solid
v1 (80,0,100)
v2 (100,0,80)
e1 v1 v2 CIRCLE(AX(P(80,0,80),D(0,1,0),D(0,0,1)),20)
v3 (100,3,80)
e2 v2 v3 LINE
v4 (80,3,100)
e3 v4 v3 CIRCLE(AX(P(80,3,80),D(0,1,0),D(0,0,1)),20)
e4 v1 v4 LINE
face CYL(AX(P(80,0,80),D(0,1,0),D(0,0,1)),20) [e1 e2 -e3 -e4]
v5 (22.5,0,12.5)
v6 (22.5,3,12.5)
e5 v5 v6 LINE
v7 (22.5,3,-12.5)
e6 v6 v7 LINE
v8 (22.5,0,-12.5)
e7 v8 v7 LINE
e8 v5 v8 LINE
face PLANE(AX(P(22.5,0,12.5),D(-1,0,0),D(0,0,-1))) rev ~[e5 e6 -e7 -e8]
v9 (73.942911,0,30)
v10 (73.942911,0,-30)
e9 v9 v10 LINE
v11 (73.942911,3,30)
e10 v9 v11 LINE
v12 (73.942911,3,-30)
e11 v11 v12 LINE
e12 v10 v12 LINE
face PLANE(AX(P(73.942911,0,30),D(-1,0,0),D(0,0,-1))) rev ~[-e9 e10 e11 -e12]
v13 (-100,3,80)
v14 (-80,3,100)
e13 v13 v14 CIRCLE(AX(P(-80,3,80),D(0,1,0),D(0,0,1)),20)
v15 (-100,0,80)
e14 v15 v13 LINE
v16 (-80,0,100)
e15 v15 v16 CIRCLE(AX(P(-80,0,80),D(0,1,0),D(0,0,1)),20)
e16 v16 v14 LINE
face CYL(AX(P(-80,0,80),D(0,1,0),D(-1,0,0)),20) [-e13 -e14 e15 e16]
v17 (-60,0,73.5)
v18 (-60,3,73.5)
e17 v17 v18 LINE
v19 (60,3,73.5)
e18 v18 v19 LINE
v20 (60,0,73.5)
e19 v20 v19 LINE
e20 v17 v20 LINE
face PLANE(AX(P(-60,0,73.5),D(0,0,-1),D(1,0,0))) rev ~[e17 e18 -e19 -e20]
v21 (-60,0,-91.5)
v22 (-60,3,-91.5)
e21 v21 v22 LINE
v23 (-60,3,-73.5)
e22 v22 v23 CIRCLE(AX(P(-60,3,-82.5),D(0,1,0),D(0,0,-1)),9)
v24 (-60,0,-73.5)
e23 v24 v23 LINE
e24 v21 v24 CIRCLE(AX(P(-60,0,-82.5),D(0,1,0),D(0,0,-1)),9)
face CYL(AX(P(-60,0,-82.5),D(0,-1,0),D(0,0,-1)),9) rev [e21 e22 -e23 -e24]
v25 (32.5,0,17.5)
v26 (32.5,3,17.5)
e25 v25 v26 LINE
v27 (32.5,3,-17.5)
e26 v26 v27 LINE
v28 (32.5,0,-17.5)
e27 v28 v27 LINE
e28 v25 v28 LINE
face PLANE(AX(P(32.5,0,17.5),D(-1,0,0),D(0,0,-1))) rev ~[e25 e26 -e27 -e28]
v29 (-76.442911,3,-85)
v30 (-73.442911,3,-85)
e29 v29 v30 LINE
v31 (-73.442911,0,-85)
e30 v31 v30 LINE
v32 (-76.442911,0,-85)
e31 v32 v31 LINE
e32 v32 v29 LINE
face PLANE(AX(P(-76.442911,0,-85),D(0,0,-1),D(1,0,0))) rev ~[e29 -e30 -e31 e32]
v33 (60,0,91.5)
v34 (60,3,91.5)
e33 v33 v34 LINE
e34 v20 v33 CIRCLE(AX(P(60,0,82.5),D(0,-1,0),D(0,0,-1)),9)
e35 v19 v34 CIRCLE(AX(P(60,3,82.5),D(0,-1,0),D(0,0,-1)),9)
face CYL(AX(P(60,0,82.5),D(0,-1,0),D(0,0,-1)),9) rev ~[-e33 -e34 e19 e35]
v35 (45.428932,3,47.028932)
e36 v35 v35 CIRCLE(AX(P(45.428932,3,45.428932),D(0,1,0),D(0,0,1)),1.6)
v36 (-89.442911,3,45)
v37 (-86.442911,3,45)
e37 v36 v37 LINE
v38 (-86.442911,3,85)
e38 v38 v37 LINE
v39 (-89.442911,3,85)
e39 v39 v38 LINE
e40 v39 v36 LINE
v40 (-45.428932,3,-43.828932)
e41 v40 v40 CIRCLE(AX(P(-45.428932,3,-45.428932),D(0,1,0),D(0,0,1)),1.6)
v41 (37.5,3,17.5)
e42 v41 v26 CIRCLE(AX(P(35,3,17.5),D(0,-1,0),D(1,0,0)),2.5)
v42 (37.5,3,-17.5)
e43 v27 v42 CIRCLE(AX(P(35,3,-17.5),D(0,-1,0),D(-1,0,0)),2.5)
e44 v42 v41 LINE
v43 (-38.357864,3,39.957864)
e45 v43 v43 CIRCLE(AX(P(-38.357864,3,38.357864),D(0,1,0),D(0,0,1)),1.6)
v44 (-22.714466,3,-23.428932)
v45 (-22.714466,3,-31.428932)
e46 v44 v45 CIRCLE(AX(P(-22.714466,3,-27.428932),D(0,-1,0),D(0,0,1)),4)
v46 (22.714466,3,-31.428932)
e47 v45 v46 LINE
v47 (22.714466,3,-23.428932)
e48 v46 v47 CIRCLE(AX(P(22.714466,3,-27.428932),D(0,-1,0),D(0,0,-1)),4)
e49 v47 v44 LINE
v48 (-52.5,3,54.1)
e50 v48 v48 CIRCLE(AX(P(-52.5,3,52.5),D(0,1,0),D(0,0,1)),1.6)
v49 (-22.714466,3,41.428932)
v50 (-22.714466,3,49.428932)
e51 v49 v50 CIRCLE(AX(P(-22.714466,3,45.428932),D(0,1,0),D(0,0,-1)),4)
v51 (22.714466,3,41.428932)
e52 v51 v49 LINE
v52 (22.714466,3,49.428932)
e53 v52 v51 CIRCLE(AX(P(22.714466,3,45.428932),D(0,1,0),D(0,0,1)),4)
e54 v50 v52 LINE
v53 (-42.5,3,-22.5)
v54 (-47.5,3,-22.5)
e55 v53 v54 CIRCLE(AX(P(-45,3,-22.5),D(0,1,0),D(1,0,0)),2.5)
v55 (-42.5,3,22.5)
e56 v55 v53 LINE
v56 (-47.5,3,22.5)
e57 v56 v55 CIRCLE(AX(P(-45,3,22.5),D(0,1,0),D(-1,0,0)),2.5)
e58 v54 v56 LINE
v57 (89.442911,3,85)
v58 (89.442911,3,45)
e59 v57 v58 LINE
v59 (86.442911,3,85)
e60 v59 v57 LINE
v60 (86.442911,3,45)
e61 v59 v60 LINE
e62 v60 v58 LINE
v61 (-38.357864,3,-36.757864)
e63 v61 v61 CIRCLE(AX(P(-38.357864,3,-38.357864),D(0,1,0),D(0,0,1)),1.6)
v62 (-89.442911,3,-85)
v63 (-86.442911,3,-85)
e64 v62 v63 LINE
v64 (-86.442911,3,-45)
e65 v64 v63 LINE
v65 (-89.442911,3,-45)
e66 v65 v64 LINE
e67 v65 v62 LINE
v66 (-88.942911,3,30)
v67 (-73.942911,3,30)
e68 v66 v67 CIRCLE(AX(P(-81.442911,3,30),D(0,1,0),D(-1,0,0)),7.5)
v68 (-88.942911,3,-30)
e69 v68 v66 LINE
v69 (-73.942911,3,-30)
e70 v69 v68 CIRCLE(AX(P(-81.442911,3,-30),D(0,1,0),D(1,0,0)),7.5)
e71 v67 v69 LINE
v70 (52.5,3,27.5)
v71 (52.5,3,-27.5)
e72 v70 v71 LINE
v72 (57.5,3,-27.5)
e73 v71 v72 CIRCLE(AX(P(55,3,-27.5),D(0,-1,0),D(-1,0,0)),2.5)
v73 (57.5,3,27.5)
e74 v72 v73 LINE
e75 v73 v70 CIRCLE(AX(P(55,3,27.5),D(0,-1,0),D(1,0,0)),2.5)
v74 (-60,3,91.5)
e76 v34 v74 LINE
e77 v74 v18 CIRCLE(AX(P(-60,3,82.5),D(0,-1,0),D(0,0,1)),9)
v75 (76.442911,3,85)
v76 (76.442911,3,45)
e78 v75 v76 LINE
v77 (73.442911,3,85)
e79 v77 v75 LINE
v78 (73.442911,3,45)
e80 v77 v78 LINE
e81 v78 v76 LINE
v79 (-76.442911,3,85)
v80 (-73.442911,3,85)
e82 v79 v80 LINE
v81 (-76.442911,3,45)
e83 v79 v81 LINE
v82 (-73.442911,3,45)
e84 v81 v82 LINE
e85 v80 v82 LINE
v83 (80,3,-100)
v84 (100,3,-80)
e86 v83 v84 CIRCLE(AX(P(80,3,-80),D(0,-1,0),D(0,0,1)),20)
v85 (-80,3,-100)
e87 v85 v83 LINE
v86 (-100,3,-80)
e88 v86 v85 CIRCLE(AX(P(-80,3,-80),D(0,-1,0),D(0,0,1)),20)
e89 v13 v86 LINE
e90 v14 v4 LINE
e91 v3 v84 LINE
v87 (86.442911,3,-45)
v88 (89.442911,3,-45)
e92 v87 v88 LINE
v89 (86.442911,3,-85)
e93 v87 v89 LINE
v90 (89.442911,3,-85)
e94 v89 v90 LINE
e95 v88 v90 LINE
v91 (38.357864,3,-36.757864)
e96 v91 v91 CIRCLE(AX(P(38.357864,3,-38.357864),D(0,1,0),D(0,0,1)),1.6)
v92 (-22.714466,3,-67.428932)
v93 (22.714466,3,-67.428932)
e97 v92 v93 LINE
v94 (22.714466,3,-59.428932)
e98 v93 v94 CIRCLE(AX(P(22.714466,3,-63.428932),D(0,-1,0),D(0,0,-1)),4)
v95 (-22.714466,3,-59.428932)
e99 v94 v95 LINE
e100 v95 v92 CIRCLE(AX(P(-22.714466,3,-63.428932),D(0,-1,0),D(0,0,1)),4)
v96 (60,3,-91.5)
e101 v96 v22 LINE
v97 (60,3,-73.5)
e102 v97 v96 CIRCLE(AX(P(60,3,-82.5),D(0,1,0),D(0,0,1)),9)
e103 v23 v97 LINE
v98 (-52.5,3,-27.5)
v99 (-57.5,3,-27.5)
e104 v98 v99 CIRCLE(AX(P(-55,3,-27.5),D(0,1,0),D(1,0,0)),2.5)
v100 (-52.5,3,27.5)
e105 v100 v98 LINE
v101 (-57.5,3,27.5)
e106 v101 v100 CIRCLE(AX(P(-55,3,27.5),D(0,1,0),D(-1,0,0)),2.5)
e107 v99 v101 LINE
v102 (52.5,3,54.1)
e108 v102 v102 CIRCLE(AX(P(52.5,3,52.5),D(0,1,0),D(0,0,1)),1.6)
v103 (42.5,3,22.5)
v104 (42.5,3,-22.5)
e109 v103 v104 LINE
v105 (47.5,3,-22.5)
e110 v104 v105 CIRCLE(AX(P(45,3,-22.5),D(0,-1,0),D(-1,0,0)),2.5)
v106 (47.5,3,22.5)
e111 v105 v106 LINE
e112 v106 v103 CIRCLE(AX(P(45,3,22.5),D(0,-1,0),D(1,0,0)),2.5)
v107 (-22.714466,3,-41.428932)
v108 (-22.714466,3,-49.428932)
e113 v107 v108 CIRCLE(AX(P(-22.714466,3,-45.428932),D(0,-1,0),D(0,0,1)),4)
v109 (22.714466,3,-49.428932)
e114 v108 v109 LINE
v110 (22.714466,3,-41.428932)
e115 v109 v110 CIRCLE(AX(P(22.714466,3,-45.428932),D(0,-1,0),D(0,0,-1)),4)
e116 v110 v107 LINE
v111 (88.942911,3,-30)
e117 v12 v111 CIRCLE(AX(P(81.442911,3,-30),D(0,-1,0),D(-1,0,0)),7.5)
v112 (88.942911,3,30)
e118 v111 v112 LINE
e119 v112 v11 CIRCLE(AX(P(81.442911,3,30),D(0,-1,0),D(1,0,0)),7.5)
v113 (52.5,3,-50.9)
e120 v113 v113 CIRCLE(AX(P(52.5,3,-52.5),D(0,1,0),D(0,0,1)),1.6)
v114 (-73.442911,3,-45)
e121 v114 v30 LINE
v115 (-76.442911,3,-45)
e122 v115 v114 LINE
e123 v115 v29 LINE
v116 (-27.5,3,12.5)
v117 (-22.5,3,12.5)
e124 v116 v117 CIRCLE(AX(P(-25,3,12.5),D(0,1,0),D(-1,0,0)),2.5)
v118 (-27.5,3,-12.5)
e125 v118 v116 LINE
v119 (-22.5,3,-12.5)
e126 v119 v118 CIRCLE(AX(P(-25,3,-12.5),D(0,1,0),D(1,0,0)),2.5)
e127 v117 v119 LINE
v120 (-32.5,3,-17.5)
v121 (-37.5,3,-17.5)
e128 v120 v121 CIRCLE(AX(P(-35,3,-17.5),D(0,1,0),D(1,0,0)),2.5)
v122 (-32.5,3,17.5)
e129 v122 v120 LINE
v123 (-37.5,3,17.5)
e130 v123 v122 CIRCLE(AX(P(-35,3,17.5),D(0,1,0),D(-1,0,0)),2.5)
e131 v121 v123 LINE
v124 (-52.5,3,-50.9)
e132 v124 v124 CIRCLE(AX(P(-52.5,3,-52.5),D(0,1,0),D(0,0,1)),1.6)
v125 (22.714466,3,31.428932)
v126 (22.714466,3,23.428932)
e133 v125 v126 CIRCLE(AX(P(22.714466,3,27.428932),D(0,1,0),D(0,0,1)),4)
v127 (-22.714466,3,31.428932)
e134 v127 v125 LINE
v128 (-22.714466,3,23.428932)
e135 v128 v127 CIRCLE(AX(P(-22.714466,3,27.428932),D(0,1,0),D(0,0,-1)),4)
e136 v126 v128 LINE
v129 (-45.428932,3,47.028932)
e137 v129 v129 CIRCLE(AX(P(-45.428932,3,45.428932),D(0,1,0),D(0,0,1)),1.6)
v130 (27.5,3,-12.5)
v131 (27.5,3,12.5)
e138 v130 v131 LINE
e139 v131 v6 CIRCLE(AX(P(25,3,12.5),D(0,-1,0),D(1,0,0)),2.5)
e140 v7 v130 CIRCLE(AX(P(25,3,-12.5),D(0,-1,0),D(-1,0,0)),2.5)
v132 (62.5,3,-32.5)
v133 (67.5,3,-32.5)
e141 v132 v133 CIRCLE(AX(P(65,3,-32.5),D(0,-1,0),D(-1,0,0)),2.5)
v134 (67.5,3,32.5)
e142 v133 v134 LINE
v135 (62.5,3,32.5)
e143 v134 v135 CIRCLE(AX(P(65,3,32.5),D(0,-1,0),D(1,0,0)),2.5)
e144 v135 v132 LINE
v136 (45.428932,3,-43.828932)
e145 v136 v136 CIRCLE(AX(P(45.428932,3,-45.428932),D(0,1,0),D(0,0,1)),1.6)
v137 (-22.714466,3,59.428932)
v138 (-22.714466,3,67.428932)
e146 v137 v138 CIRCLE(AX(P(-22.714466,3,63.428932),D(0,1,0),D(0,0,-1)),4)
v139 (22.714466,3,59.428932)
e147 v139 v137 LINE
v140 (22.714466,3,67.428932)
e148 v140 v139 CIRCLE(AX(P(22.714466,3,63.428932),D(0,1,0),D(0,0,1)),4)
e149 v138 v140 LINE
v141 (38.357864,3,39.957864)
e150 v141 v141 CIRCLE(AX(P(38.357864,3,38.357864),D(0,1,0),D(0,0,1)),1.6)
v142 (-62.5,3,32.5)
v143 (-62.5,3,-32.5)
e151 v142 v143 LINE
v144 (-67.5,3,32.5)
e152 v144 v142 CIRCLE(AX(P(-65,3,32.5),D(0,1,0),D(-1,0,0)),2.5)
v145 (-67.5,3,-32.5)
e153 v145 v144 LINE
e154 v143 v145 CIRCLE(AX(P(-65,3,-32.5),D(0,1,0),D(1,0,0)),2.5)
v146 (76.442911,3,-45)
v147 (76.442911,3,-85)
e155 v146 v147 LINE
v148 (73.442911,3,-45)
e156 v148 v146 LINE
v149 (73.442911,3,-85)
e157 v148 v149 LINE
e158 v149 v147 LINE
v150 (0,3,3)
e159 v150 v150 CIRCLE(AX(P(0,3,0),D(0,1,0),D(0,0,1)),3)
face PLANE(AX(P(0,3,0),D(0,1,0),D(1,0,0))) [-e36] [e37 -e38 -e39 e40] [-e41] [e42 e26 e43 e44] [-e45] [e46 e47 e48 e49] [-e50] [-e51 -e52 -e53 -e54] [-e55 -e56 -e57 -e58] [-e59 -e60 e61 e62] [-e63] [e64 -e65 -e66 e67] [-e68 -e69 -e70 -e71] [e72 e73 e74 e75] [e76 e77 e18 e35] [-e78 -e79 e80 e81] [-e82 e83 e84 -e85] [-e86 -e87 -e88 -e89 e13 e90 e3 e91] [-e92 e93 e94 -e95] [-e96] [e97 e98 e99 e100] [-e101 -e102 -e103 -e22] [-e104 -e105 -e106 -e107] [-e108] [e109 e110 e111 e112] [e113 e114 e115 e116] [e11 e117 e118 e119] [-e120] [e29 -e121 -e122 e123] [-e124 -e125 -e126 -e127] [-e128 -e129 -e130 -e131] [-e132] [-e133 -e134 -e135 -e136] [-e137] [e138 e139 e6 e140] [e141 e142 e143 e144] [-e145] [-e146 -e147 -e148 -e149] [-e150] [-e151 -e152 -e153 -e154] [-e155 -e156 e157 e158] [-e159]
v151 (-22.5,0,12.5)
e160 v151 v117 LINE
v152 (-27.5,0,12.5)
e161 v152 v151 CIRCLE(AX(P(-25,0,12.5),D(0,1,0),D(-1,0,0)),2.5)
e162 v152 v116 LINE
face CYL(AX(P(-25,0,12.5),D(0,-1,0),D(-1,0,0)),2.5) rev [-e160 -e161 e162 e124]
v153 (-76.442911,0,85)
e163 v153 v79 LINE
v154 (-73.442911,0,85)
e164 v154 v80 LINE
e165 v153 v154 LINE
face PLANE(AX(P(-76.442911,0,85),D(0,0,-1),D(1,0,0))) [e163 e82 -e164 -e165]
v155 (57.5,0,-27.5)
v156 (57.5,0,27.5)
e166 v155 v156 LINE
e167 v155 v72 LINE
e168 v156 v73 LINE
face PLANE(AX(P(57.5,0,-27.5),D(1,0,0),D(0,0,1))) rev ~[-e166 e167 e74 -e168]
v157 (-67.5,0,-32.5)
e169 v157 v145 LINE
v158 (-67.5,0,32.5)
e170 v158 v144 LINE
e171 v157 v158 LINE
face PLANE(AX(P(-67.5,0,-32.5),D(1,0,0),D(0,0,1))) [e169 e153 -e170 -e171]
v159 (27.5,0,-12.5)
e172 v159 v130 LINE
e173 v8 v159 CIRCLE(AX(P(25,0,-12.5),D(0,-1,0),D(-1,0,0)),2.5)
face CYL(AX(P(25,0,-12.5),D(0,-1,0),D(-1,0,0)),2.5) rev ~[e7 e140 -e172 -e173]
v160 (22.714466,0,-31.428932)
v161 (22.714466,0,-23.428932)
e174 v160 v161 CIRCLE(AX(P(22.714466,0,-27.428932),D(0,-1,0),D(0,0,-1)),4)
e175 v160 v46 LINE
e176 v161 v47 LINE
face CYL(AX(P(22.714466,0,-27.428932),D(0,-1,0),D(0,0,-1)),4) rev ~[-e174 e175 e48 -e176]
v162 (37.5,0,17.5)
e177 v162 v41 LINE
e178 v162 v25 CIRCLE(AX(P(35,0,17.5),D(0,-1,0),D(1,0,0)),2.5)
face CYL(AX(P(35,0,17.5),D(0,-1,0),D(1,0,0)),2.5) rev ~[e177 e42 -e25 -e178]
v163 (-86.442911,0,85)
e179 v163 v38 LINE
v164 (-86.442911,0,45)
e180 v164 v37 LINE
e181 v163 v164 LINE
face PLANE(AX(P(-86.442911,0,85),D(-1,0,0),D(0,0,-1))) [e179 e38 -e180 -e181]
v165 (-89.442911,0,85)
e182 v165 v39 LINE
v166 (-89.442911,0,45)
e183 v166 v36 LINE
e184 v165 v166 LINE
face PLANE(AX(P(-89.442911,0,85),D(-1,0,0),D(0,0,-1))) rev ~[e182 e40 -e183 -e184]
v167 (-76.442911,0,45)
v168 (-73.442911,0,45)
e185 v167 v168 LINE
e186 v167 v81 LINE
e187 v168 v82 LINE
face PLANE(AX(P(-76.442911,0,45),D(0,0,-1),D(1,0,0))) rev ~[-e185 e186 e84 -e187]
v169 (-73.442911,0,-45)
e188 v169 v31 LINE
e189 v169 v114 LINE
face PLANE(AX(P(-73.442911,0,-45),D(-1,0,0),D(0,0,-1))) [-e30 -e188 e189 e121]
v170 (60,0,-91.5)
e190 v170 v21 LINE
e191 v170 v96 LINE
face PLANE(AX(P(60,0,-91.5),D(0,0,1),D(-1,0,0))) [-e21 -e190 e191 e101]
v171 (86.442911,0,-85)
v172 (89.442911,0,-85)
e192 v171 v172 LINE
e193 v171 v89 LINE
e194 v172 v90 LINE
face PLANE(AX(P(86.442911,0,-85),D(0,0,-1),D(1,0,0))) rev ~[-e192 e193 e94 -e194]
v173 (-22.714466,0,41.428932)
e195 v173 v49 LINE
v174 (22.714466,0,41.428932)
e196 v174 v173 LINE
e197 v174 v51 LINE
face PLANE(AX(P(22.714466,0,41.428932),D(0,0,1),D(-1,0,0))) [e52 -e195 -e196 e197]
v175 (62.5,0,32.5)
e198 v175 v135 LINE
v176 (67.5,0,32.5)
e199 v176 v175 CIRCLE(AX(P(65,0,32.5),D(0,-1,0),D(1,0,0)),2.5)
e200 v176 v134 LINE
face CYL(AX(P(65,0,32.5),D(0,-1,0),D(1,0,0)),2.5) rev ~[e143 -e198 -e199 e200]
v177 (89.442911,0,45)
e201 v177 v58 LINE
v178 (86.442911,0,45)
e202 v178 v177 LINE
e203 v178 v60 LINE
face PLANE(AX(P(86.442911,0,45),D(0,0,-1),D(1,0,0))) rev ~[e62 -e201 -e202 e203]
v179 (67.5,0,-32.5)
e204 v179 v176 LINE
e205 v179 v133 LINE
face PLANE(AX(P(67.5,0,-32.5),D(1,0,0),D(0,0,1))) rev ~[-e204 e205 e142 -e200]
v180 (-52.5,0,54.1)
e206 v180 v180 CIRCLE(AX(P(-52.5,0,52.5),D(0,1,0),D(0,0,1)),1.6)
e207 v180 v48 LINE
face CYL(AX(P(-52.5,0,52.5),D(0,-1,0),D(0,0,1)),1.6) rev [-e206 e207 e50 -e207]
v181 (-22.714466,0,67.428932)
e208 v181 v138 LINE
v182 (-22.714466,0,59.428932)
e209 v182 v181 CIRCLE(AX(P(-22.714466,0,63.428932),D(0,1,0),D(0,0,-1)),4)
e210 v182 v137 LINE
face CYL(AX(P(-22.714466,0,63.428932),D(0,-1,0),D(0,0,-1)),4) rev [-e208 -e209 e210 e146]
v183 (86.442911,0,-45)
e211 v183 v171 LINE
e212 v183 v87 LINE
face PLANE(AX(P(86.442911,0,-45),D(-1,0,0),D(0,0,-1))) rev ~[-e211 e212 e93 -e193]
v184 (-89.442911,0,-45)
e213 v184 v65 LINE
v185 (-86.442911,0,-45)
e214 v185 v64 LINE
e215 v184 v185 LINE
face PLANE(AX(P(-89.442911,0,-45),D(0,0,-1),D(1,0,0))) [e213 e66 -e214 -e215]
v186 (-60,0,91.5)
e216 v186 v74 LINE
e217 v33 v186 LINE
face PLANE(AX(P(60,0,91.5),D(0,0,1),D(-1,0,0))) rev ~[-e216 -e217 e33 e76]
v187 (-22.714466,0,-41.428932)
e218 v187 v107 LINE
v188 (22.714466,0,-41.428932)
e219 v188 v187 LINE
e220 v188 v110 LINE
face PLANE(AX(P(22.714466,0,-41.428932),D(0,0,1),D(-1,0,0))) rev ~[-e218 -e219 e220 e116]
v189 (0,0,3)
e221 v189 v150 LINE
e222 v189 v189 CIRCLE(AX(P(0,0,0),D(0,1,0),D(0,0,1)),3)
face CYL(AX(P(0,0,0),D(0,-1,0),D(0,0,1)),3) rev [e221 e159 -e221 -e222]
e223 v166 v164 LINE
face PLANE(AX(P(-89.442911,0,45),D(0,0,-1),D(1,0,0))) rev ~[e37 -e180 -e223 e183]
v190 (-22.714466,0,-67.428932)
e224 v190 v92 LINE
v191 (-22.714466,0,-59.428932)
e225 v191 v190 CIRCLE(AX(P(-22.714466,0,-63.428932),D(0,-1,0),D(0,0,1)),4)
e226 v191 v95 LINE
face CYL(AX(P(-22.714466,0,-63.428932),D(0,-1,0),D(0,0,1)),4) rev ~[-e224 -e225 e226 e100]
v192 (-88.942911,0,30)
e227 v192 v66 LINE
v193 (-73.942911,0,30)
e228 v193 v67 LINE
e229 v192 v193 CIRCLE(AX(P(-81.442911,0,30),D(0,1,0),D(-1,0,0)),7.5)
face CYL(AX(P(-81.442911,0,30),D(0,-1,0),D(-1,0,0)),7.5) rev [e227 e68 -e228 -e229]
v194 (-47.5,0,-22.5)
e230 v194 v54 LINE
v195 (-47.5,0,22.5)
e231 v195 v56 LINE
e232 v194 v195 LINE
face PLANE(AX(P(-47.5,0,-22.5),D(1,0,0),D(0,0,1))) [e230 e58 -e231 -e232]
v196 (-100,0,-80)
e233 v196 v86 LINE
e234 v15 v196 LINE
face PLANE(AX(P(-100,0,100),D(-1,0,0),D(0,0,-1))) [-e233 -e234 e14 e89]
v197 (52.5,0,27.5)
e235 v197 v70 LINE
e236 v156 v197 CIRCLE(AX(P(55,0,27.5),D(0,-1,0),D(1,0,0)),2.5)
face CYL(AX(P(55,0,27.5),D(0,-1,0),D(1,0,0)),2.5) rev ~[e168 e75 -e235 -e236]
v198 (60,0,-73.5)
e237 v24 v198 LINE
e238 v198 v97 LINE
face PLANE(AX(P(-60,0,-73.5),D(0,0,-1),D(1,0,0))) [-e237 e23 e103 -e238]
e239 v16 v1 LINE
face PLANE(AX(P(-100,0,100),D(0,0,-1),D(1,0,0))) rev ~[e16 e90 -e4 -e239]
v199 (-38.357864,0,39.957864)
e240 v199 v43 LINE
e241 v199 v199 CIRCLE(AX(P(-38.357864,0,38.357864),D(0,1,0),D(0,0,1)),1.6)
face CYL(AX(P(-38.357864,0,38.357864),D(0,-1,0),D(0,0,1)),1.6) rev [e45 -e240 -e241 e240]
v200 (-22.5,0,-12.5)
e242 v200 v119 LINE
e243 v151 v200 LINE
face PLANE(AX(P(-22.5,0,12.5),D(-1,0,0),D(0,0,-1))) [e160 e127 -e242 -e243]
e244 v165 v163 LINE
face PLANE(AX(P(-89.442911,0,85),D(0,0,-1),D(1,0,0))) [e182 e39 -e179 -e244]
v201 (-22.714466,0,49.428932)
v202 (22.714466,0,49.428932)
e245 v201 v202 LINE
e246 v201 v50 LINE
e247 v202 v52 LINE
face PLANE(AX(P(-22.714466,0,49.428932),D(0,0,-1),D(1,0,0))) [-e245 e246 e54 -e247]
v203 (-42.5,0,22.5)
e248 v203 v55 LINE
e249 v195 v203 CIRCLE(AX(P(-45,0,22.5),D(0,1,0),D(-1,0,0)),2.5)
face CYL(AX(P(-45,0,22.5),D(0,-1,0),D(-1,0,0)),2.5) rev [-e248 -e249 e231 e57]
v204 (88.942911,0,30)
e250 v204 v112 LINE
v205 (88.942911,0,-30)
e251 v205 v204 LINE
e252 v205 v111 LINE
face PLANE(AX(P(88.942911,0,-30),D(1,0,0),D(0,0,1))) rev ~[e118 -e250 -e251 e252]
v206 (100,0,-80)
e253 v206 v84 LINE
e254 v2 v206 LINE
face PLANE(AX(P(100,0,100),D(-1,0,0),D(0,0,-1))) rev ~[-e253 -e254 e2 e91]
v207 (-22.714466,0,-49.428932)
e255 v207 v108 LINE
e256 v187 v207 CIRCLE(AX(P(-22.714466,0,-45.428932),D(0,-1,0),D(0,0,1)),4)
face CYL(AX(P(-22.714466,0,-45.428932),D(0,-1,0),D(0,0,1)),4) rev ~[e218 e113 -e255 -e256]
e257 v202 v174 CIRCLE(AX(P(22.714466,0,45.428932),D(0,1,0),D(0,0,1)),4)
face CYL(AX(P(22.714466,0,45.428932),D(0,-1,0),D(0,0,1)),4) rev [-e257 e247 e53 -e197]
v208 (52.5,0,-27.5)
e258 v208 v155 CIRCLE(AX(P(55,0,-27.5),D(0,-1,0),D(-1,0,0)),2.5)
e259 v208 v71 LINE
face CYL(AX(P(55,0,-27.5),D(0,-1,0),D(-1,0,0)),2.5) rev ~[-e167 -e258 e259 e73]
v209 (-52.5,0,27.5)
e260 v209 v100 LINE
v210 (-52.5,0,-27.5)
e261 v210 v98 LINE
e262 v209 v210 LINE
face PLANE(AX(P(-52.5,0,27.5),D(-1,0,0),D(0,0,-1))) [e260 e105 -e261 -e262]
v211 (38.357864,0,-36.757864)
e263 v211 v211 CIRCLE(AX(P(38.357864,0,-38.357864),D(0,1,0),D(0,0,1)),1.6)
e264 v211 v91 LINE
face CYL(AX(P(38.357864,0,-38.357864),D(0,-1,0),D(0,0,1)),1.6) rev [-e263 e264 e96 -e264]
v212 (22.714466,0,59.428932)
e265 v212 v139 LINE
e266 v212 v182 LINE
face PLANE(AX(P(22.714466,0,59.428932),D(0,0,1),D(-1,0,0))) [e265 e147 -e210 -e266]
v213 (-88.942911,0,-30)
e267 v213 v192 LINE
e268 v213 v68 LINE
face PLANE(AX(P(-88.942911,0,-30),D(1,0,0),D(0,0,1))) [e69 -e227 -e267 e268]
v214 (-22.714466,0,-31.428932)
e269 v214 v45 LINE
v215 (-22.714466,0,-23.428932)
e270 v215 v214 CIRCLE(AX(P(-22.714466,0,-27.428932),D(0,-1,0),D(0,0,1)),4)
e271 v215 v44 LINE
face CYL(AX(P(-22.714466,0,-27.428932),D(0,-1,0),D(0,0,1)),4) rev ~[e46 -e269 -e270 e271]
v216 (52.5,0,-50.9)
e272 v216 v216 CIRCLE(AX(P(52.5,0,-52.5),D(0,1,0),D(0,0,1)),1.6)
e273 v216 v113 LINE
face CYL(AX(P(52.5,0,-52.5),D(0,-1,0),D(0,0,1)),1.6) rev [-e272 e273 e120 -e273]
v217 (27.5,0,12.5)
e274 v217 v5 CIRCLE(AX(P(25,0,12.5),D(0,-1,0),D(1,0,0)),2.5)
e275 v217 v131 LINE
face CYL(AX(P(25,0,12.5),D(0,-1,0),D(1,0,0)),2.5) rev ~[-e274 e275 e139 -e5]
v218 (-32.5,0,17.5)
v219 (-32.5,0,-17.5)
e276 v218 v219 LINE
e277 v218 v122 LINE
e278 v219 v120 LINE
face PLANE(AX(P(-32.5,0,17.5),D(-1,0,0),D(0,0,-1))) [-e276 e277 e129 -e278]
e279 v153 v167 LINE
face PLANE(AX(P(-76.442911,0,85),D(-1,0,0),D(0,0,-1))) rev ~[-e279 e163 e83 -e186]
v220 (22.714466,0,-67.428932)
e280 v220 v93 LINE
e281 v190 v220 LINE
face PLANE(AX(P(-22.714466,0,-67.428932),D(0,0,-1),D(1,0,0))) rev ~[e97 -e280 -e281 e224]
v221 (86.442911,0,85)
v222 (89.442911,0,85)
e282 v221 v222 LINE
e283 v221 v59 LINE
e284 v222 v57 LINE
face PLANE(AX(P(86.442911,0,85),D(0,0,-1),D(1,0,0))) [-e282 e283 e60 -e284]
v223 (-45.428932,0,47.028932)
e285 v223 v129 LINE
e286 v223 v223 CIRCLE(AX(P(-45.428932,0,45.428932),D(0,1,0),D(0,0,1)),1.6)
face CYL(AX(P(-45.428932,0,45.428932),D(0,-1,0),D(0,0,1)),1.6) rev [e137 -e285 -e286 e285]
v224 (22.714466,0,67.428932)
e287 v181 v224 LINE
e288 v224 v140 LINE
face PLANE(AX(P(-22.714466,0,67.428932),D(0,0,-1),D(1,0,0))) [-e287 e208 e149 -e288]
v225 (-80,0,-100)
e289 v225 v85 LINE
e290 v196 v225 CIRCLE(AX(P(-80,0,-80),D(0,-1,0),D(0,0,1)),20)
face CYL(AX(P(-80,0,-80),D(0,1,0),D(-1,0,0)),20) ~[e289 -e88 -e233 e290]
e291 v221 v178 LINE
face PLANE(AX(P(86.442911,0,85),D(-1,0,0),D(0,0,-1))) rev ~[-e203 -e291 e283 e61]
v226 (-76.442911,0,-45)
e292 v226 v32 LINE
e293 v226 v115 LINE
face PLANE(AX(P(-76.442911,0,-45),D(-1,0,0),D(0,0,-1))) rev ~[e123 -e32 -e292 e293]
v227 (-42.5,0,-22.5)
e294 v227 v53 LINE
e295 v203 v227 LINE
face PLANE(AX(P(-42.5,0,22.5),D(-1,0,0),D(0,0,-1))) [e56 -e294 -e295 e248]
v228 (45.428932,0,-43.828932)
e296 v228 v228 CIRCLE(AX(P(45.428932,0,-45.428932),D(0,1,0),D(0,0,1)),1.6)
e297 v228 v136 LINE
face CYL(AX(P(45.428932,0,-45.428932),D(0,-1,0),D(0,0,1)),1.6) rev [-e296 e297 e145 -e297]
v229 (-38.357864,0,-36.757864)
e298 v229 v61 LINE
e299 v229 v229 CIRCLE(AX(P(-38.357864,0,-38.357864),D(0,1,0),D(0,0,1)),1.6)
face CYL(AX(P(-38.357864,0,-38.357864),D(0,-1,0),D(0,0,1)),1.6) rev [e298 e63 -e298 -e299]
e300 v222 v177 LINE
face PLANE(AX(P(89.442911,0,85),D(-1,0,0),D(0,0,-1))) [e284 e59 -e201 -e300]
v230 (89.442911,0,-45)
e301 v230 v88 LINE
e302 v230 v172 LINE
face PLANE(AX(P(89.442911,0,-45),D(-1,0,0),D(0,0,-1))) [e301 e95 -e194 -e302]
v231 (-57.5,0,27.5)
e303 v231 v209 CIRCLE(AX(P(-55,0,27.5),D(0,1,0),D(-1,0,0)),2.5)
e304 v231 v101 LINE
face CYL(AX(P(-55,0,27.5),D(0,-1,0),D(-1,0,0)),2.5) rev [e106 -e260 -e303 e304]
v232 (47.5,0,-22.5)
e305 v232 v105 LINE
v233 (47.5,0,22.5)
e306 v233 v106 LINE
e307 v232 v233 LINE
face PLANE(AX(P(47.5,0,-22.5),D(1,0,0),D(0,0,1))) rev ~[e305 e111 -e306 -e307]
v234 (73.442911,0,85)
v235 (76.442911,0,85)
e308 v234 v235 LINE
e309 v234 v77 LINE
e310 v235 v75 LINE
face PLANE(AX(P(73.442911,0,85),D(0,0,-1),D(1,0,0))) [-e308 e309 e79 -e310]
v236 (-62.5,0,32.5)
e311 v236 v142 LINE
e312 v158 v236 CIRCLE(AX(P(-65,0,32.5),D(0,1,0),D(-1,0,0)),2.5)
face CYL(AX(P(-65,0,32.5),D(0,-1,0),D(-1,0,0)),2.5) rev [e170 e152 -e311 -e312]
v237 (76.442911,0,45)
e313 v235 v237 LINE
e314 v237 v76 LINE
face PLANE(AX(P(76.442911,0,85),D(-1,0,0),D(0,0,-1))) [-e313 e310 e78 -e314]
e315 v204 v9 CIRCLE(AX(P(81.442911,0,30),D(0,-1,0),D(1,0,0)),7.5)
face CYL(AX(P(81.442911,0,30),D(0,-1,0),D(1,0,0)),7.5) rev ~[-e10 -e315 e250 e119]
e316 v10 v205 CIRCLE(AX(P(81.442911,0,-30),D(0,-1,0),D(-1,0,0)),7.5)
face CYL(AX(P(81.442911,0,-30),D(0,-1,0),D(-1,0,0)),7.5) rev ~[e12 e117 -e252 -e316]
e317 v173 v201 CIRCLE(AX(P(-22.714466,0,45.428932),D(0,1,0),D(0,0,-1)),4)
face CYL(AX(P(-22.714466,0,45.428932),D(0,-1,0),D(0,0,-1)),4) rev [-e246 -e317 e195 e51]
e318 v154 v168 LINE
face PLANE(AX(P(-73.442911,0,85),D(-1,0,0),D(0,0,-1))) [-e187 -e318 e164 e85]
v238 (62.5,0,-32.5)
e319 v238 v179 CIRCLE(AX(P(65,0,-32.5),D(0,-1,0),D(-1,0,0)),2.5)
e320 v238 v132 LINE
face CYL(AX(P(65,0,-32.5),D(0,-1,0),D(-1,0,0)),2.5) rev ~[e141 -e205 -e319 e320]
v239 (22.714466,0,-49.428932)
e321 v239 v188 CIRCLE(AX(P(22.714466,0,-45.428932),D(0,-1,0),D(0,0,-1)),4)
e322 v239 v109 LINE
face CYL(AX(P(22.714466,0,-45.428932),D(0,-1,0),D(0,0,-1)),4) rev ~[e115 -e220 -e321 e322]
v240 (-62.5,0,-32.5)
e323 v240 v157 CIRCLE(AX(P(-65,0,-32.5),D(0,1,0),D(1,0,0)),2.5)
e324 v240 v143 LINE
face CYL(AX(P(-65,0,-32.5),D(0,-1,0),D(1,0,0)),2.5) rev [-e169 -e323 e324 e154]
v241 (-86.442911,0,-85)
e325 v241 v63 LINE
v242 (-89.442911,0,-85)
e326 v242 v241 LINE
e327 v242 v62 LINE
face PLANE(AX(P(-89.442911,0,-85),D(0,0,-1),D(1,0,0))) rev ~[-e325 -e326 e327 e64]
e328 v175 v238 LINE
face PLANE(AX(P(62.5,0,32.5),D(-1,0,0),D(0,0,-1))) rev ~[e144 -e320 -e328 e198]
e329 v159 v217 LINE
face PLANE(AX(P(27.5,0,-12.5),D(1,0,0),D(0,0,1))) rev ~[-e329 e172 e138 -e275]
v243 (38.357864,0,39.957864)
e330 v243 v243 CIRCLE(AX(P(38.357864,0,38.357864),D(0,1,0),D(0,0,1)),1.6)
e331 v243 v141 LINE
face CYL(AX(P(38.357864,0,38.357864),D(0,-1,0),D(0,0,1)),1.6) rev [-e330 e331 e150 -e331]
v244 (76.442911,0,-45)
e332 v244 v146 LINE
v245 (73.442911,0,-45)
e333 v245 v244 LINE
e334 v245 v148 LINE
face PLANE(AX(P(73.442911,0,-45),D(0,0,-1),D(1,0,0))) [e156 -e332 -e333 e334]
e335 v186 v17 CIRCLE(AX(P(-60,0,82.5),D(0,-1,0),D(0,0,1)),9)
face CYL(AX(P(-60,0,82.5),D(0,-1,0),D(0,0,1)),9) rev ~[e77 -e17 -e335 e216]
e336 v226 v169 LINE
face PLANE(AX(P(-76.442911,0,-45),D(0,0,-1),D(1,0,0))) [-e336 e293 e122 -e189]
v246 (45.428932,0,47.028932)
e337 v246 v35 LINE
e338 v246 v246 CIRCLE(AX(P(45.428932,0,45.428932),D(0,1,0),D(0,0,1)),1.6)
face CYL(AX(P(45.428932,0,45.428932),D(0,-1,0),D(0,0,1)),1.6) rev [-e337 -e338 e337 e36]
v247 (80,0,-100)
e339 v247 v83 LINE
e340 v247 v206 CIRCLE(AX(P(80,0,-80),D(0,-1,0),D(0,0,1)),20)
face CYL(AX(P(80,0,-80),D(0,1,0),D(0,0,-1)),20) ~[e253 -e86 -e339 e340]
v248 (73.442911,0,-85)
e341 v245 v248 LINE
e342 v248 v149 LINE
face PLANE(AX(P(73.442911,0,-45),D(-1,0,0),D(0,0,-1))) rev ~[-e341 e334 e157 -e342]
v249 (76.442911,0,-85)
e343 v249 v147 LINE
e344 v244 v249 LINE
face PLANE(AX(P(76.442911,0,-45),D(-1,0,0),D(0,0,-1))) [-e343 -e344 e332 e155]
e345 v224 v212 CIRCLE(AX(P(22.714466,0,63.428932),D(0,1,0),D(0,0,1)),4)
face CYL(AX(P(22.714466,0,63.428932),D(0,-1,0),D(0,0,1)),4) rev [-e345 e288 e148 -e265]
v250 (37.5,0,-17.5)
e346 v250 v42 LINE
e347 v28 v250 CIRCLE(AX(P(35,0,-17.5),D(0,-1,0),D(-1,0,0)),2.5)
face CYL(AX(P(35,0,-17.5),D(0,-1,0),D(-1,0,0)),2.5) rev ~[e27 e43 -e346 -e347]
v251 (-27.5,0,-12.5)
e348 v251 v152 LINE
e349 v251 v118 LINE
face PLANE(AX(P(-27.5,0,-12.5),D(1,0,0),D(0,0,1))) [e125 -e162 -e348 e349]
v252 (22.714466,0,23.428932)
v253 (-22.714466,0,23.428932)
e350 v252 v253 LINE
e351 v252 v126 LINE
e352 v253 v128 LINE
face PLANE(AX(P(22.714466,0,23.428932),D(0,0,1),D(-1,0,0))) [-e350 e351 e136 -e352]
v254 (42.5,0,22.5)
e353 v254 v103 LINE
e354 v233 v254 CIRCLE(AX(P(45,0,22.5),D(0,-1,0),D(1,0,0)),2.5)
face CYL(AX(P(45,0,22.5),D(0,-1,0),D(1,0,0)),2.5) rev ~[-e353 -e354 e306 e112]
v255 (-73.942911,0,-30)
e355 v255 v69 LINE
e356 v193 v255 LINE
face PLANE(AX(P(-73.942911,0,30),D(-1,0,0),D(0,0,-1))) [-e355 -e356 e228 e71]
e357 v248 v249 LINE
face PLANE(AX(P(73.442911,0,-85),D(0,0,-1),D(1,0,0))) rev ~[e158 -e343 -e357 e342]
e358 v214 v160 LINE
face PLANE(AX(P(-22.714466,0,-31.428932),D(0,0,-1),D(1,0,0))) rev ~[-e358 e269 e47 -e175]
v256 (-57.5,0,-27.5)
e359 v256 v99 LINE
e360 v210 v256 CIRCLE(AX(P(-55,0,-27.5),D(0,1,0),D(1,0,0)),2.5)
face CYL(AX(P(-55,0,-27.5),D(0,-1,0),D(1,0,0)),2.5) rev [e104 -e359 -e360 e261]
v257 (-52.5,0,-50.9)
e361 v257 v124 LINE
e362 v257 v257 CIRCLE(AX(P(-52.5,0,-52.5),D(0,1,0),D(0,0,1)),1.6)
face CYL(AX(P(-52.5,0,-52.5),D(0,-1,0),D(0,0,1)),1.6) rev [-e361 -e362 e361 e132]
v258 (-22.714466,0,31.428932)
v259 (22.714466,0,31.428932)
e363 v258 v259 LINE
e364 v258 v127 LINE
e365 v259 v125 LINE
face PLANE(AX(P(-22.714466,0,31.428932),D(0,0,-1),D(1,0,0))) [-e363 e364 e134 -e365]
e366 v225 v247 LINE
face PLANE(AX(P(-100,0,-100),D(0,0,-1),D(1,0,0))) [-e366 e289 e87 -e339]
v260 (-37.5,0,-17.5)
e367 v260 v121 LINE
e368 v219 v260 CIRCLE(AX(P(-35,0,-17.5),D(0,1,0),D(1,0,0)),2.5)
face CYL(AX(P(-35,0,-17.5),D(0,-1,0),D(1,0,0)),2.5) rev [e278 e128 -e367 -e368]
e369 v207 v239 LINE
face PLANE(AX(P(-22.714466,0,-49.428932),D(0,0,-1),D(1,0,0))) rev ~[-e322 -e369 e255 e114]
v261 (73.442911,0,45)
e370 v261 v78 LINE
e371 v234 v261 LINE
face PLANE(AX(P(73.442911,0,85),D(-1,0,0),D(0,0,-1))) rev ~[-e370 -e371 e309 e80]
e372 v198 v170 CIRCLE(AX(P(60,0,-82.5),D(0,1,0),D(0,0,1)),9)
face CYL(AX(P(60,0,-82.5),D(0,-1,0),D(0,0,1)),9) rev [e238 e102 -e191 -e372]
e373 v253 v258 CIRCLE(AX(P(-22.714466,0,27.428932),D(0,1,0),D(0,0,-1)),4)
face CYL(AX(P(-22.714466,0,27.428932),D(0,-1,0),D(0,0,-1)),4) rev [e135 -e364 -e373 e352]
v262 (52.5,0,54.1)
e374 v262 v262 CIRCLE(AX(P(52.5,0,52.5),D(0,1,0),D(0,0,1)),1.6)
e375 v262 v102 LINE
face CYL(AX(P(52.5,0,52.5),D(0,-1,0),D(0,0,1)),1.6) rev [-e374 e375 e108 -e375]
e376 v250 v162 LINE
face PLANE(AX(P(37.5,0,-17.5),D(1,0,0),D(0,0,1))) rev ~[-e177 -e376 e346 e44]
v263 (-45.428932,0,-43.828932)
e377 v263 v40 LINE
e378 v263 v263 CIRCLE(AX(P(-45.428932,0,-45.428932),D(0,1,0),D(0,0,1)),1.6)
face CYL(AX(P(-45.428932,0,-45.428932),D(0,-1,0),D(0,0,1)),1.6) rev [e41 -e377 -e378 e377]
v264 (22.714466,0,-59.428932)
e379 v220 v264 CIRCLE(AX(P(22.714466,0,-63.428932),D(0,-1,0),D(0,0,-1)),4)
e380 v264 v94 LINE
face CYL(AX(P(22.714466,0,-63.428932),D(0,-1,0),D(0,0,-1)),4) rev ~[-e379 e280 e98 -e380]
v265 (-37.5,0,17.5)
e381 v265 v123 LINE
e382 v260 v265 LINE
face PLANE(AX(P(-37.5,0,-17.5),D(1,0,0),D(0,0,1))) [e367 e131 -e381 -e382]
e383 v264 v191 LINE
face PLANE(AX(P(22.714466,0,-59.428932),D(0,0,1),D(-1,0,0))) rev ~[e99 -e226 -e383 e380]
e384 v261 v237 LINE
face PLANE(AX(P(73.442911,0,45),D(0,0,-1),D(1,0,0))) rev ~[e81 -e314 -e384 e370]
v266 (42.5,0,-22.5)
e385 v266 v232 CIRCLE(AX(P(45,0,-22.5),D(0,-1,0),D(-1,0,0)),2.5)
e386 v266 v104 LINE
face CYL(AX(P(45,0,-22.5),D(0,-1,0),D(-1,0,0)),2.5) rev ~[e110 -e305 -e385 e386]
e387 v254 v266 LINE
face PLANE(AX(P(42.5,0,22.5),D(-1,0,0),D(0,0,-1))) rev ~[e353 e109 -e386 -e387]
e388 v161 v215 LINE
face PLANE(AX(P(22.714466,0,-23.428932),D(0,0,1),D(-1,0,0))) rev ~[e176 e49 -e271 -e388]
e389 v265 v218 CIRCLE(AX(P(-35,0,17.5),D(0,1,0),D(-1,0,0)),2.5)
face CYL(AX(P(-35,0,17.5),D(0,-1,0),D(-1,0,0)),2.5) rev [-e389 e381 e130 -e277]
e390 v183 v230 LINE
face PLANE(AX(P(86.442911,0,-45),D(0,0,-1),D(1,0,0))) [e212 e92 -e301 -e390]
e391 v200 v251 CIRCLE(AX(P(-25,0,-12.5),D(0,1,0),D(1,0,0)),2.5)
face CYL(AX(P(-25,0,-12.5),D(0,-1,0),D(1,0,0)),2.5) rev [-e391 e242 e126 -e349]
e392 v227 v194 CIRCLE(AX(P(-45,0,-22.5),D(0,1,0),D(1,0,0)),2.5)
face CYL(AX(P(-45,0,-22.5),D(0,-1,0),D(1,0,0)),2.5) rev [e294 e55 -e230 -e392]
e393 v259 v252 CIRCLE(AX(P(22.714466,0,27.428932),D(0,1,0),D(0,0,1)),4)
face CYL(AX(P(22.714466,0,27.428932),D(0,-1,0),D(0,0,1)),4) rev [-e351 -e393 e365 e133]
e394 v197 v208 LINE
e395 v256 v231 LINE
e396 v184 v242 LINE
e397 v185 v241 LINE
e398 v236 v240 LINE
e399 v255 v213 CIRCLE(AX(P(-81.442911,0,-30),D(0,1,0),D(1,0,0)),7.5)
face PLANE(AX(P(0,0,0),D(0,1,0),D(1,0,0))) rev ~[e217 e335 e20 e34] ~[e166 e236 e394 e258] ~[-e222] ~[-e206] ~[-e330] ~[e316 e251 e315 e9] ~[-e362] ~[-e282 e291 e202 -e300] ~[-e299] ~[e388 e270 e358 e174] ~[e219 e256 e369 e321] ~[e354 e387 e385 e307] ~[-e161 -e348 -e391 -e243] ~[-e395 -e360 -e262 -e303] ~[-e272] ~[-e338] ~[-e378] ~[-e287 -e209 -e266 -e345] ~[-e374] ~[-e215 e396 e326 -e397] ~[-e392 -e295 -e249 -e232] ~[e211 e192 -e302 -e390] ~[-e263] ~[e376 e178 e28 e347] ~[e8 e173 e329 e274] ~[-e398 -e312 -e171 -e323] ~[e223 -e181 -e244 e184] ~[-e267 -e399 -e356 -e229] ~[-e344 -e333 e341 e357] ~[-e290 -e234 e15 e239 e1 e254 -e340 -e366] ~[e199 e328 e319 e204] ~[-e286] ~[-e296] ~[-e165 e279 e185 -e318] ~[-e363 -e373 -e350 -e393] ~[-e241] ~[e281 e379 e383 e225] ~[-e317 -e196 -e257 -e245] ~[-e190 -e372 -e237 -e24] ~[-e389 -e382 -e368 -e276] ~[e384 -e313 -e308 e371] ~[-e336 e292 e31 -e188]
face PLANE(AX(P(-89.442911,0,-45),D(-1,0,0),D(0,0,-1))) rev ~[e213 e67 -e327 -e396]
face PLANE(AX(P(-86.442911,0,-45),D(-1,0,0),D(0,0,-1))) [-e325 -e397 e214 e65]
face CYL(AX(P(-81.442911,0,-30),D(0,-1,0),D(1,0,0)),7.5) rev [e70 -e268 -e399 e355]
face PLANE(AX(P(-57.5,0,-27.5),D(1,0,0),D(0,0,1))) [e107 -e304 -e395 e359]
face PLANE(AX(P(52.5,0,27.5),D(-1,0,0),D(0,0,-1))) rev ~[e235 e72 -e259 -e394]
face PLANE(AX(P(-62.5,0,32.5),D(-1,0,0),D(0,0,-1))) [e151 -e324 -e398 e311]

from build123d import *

# Parameters (mm, degrees)
SKETCH_2_W      = 200
SKETCH_2_H      = 200
SKETCH_2_R      = 1.6
SKETCH_2_R_2    = 3
SKETCH_2_W_2    = 3
SKETCH_2_H_2    = 40
EXTRUDE_1_DEPTH = 3
FILLET_2_R      = 20


with BuildPart() as part:
    # 草图2 → 凸台-拉伸1 (new body)
    with BuildSketch(Plane(origin=(0, 0, 0), x_dir=(1, 0, 0), z_dir=(0, 1, 0))):
        Rectangle(SKETCH_2_W, SKETCH_2_H)
        with Locations(Location((-52.5, 52.5, 0), (0, 0, 270))):
            Circle(SKETCH_2_R, mode=Mode.SUBTRACT)
        with Locations(Location((-45.428932188, 45.428932188, 0), (0, 0, 270))):
            Circle(SKETCH_2_R, mode=Mode.SUBTRACT)
        with Locations(Location((-38.357864376, 38.357864376, 0), (0, 0, 270))):
            Circle(SKETCH_2_R, mode=Mode.SUBTRACT)
        with Locations(Location((52.5, 52.5, 0), (0, 0, 270))):
            Circle(SKETCH_2_R, mode=Mode.SUBTRACT)
        with Locations(Location((45.428932188, 45.428932188, 0), (0, 0, 270))):
            Circle(SKETCH_2_R, mode=Mode.SUBTRACT)
        with Locations(Location((38.357864376, 38.357864376, 0), (0, 0, 270))):
            Circle(SKETCH_2_R, mode=Mode.SUBTRACT)
        with Locations(Location((52.5, -52.5, 0), (0, 0, 270))):
            Circle(SKETCH_2_R, mode=Mode.SUBTRACT)
        with Locations(Location((45.428932188, -45.428932188, 0), (0, 0, 270))):
            Circle(SKETCH_2_R, mode=Mode.SUBTRACT)
        with Locations(Location((38.357864376, -38.357864376, 0), (0, 0, 270))):
            Circle(SKETCH_2_R, mode=Mode.SUBTRACT)
        with Locations(Location((-52.5, -52.5, 0), (0, 0, 270))):
            Circle(SKETCH_2_R, mode=Mode.SUBTRACT)
        with Locations(Location((-45.428932188, -45.428932188, 0), (0, 0, 270))):
            Circle(SKETCH_2_R, mode=Mode.SUBTRACT)
        with Locations(Location((-38.357864376, -38.357864376, 0), (0, 0, 270))):
            Circle(SKETCH_2_R, mode=Mode.SUBTRACT)
        with Locations(Location((0, 0, 0), (0, 0, 270))):
            Circle(SKETCH_2_R_2, mode=Mode.SUBTRACT)
        with BuildLine():
            Line((-60, 73.5), (60, 73.5))
            ThreePointArc((60, 73.5), (69, 82.5), (60, 91.5))
            Line((60, 91.5), (-60, 91.5))
            ThreePointArc((-60, 91.5), (-69, 82.5), (-60, 73.5))
        make_face(mode=Mode.SUBTRACT)
        with BuildLine():
            Line((-60, -73.5), (60, -73.5))
            ThreePointArc((60, -73.5), (69, -82.5), (60, -91.5))
            Line((60, -91.5), (-60, -91.5))
            ThreePointArc((-60, -91.5), (-69, -82.5), (-60, -73.5))
        make_face(mode=Mode.SUBTRACT)
        with Locations((74.942911166, 65)):
            Rectangle(SKETCH_2_W_2, SKETCH_2_H_2, mode=Mode.SUBTRACT)
        with Locations((87.942911166, 65)):
            Rectangle(SKETCH_2_W_2, SKETCH_2_H_2, mode=Mode.SUBTRACT)
        with Locations((74.942911166, -65)):
            Rectangle(SKETCH_2_W_2, SKETCH_2_H_2, mode=Mode.SUBTRACT)
        with Locations((87.942911166, -65)):
            Rectangle(SKETCH_2_W_2, SKETCH_2_H_2, mode=Mode.SUBTRACT)
        with Locations((-74.942911166, -65)):
            Rectangle(SKETCH_2_W_2, SKETCH_2_H_2, mode=Mode.SUBTRACT)
        with Locations((-87.942911166, -65)):
            Rectangle(SKETCH_2_W_2, SKETCH_2_H_2, mode=Mode.SUBTRACT)
        with Locations((-87.942911166, 65)):
            Rectangle(SKETCH_2_W_2, SKETCH_2_H_2, mode=Mode.SUBTRACT)
        with Locations((-74.942911166, 65)):
            Rectangle(SKETCH_2_W_2, SKETCH_2_H_2, mode=Mode.SUBTRACT)
        with BuildLine():
            Line((22.714466094, 23.428932188), (-22.714466094, 23.428932188))
            ThreePointArc((-22.714466094, 23.428932188), (-26.714466094, 27.428932188), (-22.714466094, 31.428932188))
            Line((-22.714466094, 31.428932188), (22.714466094, 31.428932188))
            ThreePointArc((22.714466094, 31.428932188), (26.714466094, 27.428932188), (22.714466094, 23.428932188))
        make_face(mode=Mode.SUBTRACT)
        with BuildLine():
            Line((22.714466094, 41.428932188), (-22.714466094, 41.428932188))
            ThreePointArc((-22.714466094, 41.428932188), (-26.714466094, 45.428932188), (-22.714466094, 49.428932188))
            Line((-22.714466094, 49.428932188), (22.714466094, 49.428932188))
            ThreePointArc((22.714466094, 49.428932188), (26.714466094, 45.428932188), (22.714466094, 41.428932188))
        make_face(mode=Mode.SUBTRACT)
        with BuildLine():
            Line((22.714466094, 59.428932188), (-22.714466094, 59.428932188))
            ThreePointArc((-22.714466094, 59.428932188), (-26.714466094, 63.428932188), (-22.714466094, 67.428932188))
            Line((-22.714466094, 67.428932188), (22.714466094, 67.428932188))
            ThreePointArc((22.714466094, 67.428932188), (26.714466094, 63.428932188), (22.714466094, 59.428932188))
        make_face(mode=Mode.SUBTRACT)
        with BuildLine():
            Line((22.714466094, -23.428932188), (-22.714466094, -23.428932188))
            ThreePointArc((-22.714466094, -23.428932188), (-26.714466094, -27.428932188), (-22.714466094, -31.428932188))
            Line((-22.714466094, -31.428932188), (22.714466094, -31.428932188))
            ThreePointArc((22.714466094, -31.428932188), (26.714466094, -27.428932188), (22.714466094, -23.428932188))
        make_face(mode=Mode.SUBTRACT)
        with BuildLine():
            Line((22.714466094, -41.428932188), (-22.714466094, -41.428932188))
            ThreePointArc((-22.714466094, -41.428932188), (-26.714466094, -45.428932188), (-22.714466094, -49.428932188))
            Line((-22.714466094, -49.428932188), (22.714466094, -49.428932188))
            ThreePointArc((22.714466094, -49.428932188), (26.714466094, -45.428932188), (22.714466094, -41.428932188))
        make_face(mode=Mode.SUBTRACT)
        with BuildLine():
            Line((22.714466094, -59.428932188), (-22.714466094, -59.428932188))
            ThreePointArc((-22.714466094, -59.428932188), (-26.714466094, -63.428932188), (-22.714466094, -67.428932188))
            Line((-22.714466094, -67.428932188), (22.714466094, -67.428932188))
            ThreePointArc((22.714466094, -67.428932188), (26.714466094, -63.428932188), (22.714466094, -59.428932188))
        make_face(mode=Mode.SUBTRACT)
        with BuildLine():
            Line((22.5, -12.5), (22.5, 12.5))
            ThreePointArc((22.5, 12.5), (25, 15), (27.5, 12.5))
            Line((27.5, 12.5), (27.5, -12.5))
            ThreePointArc((27.5, -12.5), (25, -15), (22.5, -12.5))
        make_face(mode=Mode.SUBTRACT)
        with BuildLine():
            Line((32.5, -17.5), (32.5, 17.5))
            ThreePointArc((32.5, 17.5), (35, 20), (37.5, 17.5))
            Line((37.5, 17.5), (37.5, -17.5))
            ThreePointArc((37.5, -17.5), (35, -20), (32.5, -17.5))
        make_face(mode=Mode.SUBTRACT)
        with BuildLine():
            Line((42.5, -22.5), (42.5, 22.5))
            ThreePointArc((42.5, 22.5), (45, 25), (47.5, 22.5))
            Line((47.5, 22.5), (47.5, -22.5))
            ThreePointArc((47.5, -22.5), (45, -25), (42.5, -22.5))
        make_face(mode=Mode.SUBTRACT)
        with BuildLine():
            Line((52.5, -27.5), (52.5, 27.5))
            ThreePointArc((52.5, 27.5), (55, 30), (57.5, 27.5))
            Line((57.5, 27.5), (57.5, -27.5))
            ThreePointArc((57.5, -27.5), (55, -30), (52.5, -27.5))
        make_face(mode=Mode.SUBTRACT)
        with BuildLine():
            Line((62.5, -32.5), (62.5, 32.5))
            ThreePointArc((62.5, 32.5), (65, 35), (67.5, 32.5))
            Line((67.5, 32.5), (67.5, -32.5))
            ThreePointArc((67.5, -32.5), (65, -35), (62.5, -32.5))
        make_face(mode=Mode.SUBTRACT)
        with BuildLine():
            Line((-22.5, -12.5), (-22.5, 12.5))
            ThreePointArc((-22.5, 12.5), (-25, 15), (-27.5, 12.5))
            Line((-27.5, 12.5), (-27.5, -12.5))
            ThreePointArc((-27.5, -12.5), (-25, -15), (-22.5, -12.5))
        make_face(mode=Mode.SUBTRACT)
        with BuildLine():
            Line((-32.5, -17.5), (-32.5, 17.5))
            ThreePointArc((-32.5, 17.5), (-35, 20), (-37.5, 17.5))
            Line((-37.5, 17.5), (-37.5, -17.5))
            ThreePointArc((-37.5, -17.5), (-35, -20), (-32.5, -17.5))
        make_face(mode=Mode.SUBTRACT)
        with BuildLine():
            Line((-42.5, -22.5), (-42.5, 22.5))
            ThreePointArc((-42.5, 22.5), (-45, 25), (-47.5, 22.5))
            Line((-47.5, 22.5), (-47.5, -22.5))
            ThreePointArc((-47.5, -22.5), (-45, -25), (-42.5, -22.5))
        make_face(mode=Mode.SUBTRACT)
        with BuildLine():
            Line((-52.5, -27.5), (-52.5, 27.5))
            ThreePointArc((-52.5, 27.5), (-55, 30), (-57.5, 27.5))
            Line((-57.5, 27.5), (-57.5, -27.5))
            ThreePointArc((-57.5, -27.5), (-55, -30), (-52.5, -27.5))
        make_face(mode=Mode.SUBTRACT)
        with BuildLine():
            Line((-62.5, -32.5), (-62.5, 32.5))
            ThreePointArc((-62.5, 32.5), (-65, 35), (-67.5, 32.5))
            Line((-67.5, 32.5), (-67.5, -32.5))
            ThreePointArc((-67.5, -32.5), (-65, -35), (-62.5, -32.5))
        make_face(mode=Mode.SUBTRACT)
        with BuildLine():
            Line((88.942911166, 30), (88.942911166, -30))
            ThreePointArc((88.942911166, -30), (81.442911166, -37.5), (73.942911166, -30))
            Line((73.942911166, -30), (73.942911166, 30))
            ThreePointArc((73.942911166, 30), (81.442911166, 37.5), (88.942911166, 30))
        make_face(mode=Mode.SUBTRACT)
        with BuildLine():
            Line((-88.942911166, 30), (-88.942911166, -30))
            ThreePointArc((-88.942911166, -30), (-81.442911166, -37.5), (-73.942911166, -30))
            Line((-73.942911166, -30), (-73.942911166, 30))
            ThreePointArc((-73.942911166, 30), (-81.442911166, 37.5), (-88.942911166, 30))
        make_face(mode=Mode.SUBTRACT)
    extrude(amount=EXTRUDE_1_DEPTH)

    # 圆角2
    fillet_2_edges = [part.edges().sort_by_distance(p)[0] for p in [
        (-100, 1.5, -100),
        (100, 1.5, -100),
        (100, 1.5, 100),
        (-100, 1.5, 100),
    ]]
    fillet(fillet_2_edges, radius=FILLET_2_R)


solid = part.part
